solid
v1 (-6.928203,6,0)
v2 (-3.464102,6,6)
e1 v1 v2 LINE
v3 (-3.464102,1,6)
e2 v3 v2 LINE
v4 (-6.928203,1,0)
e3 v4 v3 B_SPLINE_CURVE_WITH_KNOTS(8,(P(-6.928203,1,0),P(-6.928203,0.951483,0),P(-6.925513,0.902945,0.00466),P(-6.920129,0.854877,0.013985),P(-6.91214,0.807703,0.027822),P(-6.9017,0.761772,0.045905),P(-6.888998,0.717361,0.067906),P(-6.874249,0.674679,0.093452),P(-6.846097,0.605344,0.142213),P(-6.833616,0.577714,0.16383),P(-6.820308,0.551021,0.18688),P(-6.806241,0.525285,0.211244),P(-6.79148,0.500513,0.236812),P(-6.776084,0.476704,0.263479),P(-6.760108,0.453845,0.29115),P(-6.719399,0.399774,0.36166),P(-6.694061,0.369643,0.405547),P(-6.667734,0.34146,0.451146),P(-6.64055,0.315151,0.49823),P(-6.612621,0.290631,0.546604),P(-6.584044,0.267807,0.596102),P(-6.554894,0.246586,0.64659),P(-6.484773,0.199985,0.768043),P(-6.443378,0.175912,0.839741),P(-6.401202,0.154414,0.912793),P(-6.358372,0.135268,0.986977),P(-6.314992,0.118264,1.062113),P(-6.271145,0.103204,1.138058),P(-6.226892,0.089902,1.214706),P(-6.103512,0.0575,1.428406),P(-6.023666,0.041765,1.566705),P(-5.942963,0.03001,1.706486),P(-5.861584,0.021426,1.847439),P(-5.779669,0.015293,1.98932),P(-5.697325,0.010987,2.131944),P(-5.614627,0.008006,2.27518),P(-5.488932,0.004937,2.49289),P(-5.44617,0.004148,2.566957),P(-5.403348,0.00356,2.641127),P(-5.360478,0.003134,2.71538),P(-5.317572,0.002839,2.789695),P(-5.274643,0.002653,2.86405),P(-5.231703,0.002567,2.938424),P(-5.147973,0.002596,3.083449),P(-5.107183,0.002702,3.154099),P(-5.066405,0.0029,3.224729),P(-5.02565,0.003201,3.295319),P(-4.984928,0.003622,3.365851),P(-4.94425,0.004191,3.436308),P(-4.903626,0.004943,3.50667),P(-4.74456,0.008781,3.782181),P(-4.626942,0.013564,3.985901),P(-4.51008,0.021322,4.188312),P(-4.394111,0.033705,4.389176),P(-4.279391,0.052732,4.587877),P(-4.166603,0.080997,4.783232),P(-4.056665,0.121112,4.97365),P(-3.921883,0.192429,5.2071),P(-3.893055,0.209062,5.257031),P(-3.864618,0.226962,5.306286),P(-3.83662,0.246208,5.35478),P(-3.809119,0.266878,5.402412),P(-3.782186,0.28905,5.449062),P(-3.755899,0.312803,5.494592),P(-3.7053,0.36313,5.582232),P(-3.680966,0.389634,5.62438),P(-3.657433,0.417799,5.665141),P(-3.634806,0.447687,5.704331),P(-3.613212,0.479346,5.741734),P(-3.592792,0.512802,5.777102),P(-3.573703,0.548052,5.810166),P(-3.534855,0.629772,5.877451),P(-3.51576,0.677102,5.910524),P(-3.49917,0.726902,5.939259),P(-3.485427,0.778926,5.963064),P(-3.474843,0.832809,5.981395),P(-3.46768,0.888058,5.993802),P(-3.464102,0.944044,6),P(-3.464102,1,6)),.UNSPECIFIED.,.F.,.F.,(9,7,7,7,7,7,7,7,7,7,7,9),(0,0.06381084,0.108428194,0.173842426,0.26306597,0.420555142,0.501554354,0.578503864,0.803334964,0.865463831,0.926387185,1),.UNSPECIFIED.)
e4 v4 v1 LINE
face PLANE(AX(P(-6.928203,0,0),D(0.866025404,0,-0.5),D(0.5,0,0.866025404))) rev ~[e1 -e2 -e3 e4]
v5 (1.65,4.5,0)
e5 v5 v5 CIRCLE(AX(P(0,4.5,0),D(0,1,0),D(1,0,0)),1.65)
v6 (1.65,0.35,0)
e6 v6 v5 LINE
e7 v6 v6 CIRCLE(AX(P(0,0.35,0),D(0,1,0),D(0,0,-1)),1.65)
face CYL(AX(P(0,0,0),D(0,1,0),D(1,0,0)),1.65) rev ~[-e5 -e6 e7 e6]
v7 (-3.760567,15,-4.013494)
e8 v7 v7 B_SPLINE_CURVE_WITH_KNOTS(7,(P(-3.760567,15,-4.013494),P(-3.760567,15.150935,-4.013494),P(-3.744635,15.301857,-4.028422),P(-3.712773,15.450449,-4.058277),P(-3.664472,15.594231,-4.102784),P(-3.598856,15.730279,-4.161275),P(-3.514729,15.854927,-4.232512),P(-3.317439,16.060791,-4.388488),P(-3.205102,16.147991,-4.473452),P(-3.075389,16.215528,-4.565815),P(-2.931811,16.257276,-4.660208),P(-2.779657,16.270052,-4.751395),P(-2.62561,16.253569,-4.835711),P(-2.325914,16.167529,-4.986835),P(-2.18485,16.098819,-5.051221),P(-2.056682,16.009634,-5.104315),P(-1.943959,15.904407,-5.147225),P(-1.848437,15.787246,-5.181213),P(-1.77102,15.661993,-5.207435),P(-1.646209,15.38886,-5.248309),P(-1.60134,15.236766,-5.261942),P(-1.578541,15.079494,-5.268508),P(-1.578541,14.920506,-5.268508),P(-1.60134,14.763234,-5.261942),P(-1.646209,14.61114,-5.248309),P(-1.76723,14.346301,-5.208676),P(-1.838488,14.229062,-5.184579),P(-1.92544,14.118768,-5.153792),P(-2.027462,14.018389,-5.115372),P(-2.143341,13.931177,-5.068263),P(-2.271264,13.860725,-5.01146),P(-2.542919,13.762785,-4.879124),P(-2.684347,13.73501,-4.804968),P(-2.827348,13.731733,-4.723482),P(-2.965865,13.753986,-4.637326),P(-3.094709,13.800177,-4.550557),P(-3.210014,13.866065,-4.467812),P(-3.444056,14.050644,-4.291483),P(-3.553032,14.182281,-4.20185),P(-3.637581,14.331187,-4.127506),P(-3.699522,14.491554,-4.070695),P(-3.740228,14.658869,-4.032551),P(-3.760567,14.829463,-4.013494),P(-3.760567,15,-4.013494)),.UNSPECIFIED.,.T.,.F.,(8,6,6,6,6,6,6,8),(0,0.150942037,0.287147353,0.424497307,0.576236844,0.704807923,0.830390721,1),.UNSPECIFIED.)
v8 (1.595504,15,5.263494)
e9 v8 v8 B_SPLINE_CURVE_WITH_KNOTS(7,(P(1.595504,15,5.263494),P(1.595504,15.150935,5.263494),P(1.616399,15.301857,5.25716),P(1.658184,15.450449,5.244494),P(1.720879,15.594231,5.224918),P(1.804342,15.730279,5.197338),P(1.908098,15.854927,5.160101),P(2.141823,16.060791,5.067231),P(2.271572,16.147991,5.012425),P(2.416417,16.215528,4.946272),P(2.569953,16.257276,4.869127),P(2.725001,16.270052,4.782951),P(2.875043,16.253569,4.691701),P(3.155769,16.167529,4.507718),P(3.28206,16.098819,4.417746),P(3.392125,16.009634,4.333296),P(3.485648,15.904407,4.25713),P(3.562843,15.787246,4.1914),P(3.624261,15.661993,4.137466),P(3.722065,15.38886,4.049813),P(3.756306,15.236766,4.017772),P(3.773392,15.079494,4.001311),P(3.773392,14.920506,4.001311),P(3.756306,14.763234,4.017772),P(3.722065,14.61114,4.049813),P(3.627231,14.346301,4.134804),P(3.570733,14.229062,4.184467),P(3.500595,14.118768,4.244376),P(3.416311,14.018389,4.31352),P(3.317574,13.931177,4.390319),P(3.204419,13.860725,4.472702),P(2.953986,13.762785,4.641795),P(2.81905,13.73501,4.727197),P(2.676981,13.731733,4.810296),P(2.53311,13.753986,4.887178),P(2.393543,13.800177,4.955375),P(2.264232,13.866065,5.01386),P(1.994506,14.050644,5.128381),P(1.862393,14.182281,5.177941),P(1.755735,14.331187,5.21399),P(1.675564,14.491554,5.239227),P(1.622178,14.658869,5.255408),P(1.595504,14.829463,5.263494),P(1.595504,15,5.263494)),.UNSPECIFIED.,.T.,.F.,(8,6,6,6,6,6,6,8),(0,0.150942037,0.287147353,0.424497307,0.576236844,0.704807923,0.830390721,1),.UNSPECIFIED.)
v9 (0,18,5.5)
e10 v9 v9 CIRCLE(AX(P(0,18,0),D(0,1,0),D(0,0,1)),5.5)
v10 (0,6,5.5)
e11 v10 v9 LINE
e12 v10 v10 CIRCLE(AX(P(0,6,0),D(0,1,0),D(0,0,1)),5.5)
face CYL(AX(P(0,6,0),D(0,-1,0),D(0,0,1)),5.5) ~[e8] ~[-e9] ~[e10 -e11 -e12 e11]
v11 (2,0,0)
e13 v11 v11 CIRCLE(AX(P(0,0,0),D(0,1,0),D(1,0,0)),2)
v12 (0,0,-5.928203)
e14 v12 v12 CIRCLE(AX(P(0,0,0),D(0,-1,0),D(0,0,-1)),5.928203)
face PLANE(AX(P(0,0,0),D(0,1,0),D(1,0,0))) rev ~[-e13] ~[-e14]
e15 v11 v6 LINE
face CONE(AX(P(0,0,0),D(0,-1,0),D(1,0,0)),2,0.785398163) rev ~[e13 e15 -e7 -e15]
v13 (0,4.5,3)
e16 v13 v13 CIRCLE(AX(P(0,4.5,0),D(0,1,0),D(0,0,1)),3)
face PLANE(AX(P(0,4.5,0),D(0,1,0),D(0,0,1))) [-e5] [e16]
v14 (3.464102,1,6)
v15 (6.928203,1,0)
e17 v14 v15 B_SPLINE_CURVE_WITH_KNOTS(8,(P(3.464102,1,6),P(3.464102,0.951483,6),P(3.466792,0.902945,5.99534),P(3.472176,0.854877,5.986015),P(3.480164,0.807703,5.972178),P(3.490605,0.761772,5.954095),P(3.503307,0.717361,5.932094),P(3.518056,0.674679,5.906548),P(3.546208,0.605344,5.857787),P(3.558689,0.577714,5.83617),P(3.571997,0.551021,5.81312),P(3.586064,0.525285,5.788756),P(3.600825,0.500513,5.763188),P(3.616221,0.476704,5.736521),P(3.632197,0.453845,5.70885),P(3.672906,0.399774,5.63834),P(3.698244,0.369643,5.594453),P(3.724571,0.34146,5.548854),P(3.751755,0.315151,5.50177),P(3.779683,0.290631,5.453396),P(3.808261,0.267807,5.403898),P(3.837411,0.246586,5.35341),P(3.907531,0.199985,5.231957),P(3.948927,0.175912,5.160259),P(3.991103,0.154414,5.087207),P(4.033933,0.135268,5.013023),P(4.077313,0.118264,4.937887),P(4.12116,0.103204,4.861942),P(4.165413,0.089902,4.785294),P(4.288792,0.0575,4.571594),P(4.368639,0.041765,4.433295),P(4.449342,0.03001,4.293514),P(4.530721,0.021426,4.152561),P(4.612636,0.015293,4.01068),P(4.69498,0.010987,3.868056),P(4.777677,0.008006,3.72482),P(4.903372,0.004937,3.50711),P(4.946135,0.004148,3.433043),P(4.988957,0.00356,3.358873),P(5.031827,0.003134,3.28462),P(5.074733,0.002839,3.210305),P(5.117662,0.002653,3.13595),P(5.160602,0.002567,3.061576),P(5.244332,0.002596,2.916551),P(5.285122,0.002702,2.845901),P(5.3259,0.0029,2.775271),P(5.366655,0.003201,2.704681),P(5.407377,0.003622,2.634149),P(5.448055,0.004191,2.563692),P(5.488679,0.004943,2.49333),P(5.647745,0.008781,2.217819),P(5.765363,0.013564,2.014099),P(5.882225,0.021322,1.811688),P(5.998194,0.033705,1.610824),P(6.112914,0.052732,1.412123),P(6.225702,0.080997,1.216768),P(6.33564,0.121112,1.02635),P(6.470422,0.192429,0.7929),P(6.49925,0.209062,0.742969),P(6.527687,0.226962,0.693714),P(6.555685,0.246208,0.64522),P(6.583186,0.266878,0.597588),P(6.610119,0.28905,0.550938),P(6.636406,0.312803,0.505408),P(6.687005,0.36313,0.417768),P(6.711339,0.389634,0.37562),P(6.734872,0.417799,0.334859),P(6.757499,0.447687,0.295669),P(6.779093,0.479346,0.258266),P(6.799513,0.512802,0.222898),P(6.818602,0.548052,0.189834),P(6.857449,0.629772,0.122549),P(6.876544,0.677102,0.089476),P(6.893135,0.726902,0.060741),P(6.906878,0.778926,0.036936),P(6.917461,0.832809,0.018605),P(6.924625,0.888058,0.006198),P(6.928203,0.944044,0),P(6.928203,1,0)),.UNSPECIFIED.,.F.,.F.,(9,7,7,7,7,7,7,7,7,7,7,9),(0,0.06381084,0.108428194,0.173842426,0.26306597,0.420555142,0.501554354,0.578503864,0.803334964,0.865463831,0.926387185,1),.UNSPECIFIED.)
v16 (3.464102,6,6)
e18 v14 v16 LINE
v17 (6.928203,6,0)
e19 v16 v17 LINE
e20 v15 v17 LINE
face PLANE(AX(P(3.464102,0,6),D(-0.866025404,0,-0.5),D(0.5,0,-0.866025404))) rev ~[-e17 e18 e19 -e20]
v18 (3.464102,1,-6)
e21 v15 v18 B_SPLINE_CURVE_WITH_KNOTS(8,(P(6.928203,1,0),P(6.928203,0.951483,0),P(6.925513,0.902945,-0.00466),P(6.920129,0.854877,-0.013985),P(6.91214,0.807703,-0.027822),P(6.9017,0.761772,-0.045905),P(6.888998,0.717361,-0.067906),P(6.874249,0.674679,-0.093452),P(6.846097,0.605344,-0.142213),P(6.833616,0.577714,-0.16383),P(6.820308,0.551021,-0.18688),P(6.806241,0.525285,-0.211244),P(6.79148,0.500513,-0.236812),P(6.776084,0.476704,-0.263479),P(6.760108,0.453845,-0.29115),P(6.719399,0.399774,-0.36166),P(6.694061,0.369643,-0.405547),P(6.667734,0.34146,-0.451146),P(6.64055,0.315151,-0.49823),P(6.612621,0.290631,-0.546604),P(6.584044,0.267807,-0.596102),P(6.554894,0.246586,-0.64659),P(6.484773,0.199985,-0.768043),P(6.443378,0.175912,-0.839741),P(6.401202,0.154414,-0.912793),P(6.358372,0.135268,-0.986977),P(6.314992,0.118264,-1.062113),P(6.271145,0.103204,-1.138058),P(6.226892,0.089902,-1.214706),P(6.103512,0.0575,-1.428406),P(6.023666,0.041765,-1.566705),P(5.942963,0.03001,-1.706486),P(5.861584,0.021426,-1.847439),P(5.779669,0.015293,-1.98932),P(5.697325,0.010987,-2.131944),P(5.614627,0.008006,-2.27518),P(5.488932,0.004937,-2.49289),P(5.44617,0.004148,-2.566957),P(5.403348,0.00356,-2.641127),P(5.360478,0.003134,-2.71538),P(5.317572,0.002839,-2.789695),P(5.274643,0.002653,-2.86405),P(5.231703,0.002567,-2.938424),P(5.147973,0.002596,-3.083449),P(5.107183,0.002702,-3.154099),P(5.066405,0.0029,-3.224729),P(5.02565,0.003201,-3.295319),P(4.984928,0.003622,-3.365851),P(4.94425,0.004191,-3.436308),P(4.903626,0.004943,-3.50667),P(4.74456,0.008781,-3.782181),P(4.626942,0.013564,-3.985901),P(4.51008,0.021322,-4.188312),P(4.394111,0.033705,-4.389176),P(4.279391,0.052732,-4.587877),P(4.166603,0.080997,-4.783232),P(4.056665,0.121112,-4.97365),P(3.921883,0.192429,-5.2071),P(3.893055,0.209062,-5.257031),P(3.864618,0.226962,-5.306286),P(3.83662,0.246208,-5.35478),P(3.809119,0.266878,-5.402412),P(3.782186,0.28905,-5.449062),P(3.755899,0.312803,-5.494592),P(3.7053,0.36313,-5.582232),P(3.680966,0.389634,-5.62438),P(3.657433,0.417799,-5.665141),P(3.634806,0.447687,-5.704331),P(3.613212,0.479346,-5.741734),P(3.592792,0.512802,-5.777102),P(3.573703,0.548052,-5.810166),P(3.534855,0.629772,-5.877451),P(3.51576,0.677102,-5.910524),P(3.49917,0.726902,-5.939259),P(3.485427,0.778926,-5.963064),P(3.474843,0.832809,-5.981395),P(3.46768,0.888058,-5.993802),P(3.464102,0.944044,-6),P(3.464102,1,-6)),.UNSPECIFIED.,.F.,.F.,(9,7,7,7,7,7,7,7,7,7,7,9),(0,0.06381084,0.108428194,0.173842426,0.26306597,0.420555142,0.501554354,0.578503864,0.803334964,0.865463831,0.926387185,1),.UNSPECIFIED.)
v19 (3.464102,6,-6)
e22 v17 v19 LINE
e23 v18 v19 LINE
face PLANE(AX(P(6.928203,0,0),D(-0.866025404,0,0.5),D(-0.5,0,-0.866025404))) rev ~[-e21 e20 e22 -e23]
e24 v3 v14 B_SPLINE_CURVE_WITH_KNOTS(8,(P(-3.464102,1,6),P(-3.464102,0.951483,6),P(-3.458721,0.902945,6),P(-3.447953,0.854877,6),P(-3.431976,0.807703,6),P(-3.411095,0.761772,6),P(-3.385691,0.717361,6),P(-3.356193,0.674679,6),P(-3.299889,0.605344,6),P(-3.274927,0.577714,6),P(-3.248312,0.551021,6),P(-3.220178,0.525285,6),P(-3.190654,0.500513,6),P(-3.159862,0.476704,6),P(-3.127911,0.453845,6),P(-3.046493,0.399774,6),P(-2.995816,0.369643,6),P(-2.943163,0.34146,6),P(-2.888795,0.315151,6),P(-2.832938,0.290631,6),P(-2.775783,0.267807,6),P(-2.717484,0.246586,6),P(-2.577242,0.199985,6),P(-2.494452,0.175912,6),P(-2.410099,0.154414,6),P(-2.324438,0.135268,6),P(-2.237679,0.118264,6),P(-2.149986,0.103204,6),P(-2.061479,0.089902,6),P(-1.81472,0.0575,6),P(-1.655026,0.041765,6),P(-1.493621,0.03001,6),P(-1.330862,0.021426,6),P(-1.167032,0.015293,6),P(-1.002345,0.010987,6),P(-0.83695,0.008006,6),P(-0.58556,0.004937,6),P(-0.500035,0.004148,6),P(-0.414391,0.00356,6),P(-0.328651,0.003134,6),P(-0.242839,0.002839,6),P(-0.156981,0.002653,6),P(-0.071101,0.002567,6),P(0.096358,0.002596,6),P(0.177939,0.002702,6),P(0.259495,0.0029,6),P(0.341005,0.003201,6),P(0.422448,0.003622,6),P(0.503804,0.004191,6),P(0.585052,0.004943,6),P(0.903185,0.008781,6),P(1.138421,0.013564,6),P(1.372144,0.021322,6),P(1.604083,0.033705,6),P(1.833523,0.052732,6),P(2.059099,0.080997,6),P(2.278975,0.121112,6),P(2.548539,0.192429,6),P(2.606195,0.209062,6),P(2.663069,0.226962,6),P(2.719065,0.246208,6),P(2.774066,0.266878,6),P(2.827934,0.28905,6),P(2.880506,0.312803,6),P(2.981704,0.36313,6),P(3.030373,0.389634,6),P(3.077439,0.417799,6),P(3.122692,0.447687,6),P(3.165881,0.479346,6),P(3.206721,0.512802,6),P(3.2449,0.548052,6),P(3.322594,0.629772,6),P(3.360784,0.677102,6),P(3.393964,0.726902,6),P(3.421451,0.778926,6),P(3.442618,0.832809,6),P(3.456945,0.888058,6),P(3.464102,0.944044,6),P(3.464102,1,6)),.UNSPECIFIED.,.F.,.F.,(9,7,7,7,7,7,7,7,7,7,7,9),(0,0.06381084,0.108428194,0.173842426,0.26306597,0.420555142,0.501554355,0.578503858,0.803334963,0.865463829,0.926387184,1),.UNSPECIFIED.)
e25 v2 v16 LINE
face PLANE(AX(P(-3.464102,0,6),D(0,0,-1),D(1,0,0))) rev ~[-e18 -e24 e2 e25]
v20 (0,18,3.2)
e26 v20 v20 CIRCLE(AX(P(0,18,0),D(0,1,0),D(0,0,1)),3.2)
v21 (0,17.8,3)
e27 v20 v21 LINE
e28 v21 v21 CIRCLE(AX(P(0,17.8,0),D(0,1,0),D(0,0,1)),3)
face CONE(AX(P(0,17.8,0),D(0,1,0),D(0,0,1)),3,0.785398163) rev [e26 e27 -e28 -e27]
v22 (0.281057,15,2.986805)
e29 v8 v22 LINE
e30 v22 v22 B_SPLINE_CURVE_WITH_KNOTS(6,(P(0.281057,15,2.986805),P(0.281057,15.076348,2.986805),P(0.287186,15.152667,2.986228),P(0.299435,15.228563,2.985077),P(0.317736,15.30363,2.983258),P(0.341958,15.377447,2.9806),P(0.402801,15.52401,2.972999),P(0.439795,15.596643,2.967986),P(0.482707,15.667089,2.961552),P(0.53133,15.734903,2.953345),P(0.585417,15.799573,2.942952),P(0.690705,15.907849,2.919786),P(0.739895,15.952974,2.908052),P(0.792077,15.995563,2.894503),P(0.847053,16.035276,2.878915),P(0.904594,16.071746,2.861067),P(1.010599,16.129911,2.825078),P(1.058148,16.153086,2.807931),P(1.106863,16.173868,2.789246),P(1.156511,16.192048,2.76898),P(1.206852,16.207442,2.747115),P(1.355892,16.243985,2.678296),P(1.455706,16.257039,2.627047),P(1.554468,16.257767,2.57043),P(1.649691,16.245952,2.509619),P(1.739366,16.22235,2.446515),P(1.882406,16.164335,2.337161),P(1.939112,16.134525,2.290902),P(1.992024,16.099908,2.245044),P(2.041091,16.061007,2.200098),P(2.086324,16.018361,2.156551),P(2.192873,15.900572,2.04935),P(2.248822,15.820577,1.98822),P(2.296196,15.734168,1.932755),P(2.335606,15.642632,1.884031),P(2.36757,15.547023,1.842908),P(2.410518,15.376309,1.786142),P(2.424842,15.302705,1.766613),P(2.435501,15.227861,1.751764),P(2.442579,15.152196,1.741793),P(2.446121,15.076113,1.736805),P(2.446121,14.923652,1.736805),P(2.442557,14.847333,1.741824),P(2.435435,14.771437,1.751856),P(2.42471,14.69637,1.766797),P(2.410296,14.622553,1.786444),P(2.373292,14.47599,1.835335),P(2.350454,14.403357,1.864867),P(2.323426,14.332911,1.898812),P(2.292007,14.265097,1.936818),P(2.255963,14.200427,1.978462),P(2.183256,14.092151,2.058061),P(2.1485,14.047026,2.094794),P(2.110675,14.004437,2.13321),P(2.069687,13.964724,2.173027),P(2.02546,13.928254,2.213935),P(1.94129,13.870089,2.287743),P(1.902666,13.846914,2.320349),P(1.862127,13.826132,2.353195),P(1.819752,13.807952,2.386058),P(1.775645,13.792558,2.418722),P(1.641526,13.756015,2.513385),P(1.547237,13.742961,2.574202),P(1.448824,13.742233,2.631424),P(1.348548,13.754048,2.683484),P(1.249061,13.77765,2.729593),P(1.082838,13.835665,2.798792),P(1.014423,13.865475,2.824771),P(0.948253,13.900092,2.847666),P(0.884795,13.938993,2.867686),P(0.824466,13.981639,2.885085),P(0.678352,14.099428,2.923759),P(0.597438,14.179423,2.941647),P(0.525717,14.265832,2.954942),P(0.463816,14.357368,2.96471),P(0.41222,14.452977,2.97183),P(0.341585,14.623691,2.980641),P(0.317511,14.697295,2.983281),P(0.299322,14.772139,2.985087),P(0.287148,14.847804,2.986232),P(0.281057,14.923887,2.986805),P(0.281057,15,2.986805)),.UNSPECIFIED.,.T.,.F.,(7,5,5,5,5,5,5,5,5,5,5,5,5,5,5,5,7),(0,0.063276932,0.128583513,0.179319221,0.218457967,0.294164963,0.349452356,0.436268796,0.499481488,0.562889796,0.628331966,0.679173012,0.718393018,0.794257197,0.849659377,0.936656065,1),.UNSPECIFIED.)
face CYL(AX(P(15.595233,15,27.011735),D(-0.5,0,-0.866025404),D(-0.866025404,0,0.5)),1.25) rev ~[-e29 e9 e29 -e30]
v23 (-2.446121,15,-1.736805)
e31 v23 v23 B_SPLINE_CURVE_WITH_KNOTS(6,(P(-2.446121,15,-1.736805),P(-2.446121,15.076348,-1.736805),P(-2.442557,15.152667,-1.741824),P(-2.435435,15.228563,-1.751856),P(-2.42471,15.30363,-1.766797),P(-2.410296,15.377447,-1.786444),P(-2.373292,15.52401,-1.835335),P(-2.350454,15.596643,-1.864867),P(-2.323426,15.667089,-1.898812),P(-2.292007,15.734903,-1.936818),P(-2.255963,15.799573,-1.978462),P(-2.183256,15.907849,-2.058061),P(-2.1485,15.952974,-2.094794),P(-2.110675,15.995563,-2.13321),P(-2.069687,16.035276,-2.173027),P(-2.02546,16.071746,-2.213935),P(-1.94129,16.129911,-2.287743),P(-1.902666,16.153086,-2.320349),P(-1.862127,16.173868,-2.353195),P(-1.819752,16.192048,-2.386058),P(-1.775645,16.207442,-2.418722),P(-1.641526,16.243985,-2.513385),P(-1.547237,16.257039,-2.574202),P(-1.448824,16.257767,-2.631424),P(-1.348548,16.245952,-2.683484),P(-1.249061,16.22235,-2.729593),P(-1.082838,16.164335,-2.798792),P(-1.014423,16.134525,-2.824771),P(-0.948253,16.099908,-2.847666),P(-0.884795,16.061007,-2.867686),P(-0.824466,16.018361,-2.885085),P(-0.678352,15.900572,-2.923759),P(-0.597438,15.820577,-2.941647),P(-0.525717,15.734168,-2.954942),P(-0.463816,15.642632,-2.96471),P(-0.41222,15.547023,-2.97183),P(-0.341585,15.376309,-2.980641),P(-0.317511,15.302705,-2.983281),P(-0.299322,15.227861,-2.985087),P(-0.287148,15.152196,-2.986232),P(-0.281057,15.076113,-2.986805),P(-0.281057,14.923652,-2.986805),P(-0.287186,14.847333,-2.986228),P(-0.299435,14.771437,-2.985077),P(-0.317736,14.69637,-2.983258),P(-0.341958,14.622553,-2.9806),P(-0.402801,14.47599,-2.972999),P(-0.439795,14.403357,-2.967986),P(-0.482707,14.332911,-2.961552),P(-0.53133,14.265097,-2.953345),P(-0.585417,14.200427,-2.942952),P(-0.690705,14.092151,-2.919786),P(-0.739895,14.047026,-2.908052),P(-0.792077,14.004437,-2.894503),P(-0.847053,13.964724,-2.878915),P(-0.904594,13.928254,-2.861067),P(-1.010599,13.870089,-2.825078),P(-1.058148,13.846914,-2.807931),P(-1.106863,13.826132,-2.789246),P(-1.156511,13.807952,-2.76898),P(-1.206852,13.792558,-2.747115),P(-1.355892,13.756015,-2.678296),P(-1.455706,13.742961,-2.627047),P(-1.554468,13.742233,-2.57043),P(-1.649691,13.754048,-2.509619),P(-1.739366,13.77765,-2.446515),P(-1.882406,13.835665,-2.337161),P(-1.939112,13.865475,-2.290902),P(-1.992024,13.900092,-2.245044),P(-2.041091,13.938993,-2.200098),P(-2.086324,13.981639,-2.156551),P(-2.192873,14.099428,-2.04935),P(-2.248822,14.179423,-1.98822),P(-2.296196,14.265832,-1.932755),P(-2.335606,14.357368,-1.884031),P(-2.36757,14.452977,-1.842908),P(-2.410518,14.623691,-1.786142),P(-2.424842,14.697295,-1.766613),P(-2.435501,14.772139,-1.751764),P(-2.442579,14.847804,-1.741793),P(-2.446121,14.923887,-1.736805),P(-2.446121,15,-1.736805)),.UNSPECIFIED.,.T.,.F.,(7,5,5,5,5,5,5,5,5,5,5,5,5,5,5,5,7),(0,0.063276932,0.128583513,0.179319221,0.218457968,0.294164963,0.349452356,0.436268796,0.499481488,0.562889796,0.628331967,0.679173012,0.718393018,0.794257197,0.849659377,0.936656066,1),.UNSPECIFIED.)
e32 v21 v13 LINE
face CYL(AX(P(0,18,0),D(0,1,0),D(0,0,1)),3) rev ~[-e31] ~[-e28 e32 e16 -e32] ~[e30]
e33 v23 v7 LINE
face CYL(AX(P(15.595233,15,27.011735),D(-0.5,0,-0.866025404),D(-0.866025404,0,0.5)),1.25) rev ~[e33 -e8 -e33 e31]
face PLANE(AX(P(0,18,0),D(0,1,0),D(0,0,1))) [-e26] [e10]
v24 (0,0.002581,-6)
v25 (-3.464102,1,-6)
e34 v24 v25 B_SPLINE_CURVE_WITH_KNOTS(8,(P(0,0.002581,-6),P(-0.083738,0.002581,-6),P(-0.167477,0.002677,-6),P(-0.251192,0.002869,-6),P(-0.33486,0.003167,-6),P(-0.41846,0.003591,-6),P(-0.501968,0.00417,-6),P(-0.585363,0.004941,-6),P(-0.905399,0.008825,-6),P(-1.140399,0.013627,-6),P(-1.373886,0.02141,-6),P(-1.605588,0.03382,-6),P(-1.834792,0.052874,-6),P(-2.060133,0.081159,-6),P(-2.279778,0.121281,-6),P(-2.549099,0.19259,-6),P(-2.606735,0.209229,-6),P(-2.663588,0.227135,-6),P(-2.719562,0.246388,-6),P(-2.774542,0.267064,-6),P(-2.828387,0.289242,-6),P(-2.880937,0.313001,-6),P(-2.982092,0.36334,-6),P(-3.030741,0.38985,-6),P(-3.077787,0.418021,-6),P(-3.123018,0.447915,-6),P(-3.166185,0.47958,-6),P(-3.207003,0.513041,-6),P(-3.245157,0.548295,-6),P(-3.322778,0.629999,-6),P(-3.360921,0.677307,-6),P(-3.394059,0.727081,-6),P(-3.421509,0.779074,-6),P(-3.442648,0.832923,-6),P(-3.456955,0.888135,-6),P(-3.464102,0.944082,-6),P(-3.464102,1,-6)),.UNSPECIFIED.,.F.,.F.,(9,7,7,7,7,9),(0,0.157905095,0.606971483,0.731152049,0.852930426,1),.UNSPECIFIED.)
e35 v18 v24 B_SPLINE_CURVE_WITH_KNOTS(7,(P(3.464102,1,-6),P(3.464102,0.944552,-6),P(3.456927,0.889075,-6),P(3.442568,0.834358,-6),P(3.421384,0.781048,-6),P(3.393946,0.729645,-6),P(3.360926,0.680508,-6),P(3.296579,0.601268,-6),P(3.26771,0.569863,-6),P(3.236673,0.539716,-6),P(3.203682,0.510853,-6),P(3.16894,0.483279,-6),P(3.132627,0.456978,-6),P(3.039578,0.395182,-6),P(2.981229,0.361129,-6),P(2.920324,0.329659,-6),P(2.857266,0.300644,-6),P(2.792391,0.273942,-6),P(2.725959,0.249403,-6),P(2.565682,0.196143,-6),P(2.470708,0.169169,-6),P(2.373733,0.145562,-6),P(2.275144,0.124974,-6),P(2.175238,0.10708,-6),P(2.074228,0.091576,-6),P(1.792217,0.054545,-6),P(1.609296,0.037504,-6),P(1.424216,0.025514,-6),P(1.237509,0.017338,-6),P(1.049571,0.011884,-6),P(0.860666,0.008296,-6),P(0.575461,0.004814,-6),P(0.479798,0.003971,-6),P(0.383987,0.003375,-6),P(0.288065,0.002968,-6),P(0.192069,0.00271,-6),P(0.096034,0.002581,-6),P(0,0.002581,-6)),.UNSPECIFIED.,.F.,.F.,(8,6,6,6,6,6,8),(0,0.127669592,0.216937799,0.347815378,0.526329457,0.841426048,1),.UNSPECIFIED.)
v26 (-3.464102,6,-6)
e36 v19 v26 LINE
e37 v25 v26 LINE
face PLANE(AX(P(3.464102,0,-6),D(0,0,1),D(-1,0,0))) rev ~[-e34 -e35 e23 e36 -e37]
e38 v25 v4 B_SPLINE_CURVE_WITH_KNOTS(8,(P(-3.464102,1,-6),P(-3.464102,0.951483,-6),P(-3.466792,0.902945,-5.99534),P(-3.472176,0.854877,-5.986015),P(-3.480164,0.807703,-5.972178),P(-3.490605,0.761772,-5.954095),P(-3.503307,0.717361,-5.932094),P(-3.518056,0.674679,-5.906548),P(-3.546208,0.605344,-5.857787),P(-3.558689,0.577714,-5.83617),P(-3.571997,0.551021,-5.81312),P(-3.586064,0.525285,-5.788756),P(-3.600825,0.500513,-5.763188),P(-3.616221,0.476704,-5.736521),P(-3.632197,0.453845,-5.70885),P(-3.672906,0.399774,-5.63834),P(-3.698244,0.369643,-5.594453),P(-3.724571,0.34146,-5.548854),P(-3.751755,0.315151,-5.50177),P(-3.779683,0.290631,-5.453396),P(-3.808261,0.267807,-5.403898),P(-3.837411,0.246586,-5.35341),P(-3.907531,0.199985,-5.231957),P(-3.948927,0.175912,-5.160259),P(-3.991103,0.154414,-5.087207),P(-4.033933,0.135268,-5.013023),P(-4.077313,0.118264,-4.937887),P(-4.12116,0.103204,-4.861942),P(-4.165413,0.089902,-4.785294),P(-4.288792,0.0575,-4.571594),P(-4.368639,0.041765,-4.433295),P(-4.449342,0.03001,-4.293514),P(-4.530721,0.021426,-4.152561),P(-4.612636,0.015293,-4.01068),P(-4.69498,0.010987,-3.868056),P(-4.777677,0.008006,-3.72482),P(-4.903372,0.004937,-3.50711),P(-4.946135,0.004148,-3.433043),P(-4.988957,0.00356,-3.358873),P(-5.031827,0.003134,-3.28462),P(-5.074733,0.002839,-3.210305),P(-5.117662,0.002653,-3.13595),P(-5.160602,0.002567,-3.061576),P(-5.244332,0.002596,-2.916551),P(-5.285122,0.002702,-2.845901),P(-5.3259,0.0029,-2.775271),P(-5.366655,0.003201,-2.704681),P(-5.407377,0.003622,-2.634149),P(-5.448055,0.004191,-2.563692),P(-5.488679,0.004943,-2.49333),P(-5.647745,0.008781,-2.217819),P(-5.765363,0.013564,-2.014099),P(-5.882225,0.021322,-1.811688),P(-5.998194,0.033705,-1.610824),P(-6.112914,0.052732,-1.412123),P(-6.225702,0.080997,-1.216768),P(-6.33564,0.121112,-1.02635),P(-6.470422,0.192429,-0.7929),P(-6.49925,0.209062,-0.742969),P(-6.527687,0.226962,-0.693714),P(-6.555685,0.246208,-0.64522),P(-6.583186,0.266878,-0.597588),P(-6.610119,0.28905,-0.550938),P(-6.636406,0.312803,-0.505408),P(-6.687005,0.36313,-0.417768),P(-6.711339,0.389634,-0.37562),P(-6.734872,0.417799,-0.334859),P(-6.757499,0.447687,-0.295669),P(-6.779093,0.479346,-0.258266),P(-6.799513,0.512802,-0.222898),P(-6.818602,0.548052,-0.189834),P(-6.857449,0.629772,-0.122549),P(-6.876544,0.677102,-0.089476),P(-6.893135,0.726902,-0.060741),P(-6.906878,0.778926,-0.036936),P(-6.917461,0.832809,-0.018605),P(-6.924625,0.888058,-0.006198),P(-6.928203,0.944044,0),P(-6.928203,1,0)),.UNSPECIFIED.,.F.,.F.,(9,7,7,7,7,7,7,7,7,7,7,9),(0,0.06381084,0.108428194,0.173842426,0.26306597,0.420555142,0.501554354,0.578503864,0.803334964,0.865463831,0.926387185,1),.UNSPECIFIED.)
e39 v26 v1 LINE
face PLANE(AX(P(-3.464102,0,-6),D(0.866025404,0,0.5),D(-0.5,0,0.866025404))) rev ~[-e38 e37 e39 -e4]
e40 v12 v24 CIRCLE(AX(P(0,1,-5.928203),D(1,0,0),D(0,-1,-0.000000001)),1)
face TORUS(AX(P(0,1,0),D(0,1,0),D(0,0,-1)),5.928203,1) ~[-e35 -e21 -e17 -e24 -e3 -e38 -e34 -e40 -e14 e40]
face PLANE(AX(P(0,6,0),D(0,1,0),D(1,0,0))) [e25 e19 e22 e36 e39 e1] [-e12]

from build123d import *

# Parameters (mm, degrees)
BASE_DEPTH                      = 6
SKETCH2_R                       = 5.5
SHAFT_HOLDING_BODY_DEPTH        = 12
M4X0_7_TAPPED_HOLE1_D           = 3.3
M4X0_7_TAPPED_HOLE1_CSINK_D     = 4
M4X0_7_TAPPED_HOLE1_CSINK_ANGLE = 90
M3X0_5_TAPPED_HOLE1_D           = 2.5
SKETCH13_R                      = 3
SHAFT_HOLE_DEPTH                = 13.5
SH_C_SIZE                       = 0.2


with BuildPart() as part:
    # Sketch1 → BASE (new body)
    with BuildSketch(Plane(origin=(0, 0, 0), x_dir=(1, 0, 0), z_dir=(0, 1, 0))):
        Polygon((3.464101615, -6), (6.92820323, 0), (3.464101615, 6), (-3.464101615, 6), (-6.92820323, 0), (-3.464101615, -6), align=None)
    extrude(amount=BASE_DEPTH)

    # Sketch2 → SHAFT HOLDING BODY (add)
    with BuildSketch(Plane(origin=(0, 6, 0), x_dir=(1, 0, 0), z_dir=(0, 1, 0))):
        with Locations(Location((0, 0, 0), (0, 0, 270))):
            Circle(SKETCH2_R)
    extrude(amount=SHAFT_HOLDING_BODY_DEPTH)

    # M4x0.7 Tapped Hole1 (through all)
    with Locations(Plane(origin=(0, 0, 0), x_dir=(-1, 0, 0), z_dir=(0, -1, 0))):
        with Locations((0, 0)):
            CounterSinkHole(M4X0_7_TAPPED_HOLE1_D / 2, M4X0_7_TAPPED_HOLE1_CSINK_D / 2, counter_sink_angle=M4X0_7_TAPPED_HOLE1_CSINK_ANGLE)

    # M3x0.5 Tapped Hole1 (through all)
    with Locations(Plane(origin=(2.75, 6, 4.763139721), x_dir=(0.8660254037844385, 0, -0.5000000000000004), z_dir=(0.5000000000000003, 0, 0.8660254037844384))):
        with Locations((0, 9)):
            Hole(M3X0_5_TAPPED_HOLE1_D / 2)

    # Sketch9 → BASE CHAMFER RELIEF (revolve, cut)
    with BuildSketch(Plane.XY, mode=Mode.PRIVATE) as base_chamfer_relief_sk:
        with BuildLine():
            Line((-6.92820323, 1), (-6.92820323, 0))
            Line((-6.92820323, 0), (-5.92820323, 0))
            ThreePointArc((-5.92820323, 0), (-6.635310011, 0.292893219), (-6.92820323, 1))
        make_face()
    revolve(base_chamfer_relief_sk.sketch.rotate(Axis((0, 0, 0), (0, -1, 0)), 90), axis=Axis((0, 0, 0), (0, -1, 0)), mode=Mode.SUBTRACT)

    # Sketch13 → SHAFT HOLE (cut)
    with BuildSketch(Plane(origin=(0, 18, 0), x_dir=(1, 0, 0), z_dir=(0, 1, 0))):
        with Locations(Location((0, 0, 0), (0, 0, 270))):
            Circle(SKETCH13_R)
    extrude(amount=-SHAFT_HOLE_DEPTH, mode=Mode.SUBTRACT)

    # SH C
    sh_c_edges = [part.edges().sort_by_distance(p)[0] for p in [
        (0, 18, -3),
    ]]
    chamfer(sh_c_edges, length=SH_C_SIZE)


solid = part.part
